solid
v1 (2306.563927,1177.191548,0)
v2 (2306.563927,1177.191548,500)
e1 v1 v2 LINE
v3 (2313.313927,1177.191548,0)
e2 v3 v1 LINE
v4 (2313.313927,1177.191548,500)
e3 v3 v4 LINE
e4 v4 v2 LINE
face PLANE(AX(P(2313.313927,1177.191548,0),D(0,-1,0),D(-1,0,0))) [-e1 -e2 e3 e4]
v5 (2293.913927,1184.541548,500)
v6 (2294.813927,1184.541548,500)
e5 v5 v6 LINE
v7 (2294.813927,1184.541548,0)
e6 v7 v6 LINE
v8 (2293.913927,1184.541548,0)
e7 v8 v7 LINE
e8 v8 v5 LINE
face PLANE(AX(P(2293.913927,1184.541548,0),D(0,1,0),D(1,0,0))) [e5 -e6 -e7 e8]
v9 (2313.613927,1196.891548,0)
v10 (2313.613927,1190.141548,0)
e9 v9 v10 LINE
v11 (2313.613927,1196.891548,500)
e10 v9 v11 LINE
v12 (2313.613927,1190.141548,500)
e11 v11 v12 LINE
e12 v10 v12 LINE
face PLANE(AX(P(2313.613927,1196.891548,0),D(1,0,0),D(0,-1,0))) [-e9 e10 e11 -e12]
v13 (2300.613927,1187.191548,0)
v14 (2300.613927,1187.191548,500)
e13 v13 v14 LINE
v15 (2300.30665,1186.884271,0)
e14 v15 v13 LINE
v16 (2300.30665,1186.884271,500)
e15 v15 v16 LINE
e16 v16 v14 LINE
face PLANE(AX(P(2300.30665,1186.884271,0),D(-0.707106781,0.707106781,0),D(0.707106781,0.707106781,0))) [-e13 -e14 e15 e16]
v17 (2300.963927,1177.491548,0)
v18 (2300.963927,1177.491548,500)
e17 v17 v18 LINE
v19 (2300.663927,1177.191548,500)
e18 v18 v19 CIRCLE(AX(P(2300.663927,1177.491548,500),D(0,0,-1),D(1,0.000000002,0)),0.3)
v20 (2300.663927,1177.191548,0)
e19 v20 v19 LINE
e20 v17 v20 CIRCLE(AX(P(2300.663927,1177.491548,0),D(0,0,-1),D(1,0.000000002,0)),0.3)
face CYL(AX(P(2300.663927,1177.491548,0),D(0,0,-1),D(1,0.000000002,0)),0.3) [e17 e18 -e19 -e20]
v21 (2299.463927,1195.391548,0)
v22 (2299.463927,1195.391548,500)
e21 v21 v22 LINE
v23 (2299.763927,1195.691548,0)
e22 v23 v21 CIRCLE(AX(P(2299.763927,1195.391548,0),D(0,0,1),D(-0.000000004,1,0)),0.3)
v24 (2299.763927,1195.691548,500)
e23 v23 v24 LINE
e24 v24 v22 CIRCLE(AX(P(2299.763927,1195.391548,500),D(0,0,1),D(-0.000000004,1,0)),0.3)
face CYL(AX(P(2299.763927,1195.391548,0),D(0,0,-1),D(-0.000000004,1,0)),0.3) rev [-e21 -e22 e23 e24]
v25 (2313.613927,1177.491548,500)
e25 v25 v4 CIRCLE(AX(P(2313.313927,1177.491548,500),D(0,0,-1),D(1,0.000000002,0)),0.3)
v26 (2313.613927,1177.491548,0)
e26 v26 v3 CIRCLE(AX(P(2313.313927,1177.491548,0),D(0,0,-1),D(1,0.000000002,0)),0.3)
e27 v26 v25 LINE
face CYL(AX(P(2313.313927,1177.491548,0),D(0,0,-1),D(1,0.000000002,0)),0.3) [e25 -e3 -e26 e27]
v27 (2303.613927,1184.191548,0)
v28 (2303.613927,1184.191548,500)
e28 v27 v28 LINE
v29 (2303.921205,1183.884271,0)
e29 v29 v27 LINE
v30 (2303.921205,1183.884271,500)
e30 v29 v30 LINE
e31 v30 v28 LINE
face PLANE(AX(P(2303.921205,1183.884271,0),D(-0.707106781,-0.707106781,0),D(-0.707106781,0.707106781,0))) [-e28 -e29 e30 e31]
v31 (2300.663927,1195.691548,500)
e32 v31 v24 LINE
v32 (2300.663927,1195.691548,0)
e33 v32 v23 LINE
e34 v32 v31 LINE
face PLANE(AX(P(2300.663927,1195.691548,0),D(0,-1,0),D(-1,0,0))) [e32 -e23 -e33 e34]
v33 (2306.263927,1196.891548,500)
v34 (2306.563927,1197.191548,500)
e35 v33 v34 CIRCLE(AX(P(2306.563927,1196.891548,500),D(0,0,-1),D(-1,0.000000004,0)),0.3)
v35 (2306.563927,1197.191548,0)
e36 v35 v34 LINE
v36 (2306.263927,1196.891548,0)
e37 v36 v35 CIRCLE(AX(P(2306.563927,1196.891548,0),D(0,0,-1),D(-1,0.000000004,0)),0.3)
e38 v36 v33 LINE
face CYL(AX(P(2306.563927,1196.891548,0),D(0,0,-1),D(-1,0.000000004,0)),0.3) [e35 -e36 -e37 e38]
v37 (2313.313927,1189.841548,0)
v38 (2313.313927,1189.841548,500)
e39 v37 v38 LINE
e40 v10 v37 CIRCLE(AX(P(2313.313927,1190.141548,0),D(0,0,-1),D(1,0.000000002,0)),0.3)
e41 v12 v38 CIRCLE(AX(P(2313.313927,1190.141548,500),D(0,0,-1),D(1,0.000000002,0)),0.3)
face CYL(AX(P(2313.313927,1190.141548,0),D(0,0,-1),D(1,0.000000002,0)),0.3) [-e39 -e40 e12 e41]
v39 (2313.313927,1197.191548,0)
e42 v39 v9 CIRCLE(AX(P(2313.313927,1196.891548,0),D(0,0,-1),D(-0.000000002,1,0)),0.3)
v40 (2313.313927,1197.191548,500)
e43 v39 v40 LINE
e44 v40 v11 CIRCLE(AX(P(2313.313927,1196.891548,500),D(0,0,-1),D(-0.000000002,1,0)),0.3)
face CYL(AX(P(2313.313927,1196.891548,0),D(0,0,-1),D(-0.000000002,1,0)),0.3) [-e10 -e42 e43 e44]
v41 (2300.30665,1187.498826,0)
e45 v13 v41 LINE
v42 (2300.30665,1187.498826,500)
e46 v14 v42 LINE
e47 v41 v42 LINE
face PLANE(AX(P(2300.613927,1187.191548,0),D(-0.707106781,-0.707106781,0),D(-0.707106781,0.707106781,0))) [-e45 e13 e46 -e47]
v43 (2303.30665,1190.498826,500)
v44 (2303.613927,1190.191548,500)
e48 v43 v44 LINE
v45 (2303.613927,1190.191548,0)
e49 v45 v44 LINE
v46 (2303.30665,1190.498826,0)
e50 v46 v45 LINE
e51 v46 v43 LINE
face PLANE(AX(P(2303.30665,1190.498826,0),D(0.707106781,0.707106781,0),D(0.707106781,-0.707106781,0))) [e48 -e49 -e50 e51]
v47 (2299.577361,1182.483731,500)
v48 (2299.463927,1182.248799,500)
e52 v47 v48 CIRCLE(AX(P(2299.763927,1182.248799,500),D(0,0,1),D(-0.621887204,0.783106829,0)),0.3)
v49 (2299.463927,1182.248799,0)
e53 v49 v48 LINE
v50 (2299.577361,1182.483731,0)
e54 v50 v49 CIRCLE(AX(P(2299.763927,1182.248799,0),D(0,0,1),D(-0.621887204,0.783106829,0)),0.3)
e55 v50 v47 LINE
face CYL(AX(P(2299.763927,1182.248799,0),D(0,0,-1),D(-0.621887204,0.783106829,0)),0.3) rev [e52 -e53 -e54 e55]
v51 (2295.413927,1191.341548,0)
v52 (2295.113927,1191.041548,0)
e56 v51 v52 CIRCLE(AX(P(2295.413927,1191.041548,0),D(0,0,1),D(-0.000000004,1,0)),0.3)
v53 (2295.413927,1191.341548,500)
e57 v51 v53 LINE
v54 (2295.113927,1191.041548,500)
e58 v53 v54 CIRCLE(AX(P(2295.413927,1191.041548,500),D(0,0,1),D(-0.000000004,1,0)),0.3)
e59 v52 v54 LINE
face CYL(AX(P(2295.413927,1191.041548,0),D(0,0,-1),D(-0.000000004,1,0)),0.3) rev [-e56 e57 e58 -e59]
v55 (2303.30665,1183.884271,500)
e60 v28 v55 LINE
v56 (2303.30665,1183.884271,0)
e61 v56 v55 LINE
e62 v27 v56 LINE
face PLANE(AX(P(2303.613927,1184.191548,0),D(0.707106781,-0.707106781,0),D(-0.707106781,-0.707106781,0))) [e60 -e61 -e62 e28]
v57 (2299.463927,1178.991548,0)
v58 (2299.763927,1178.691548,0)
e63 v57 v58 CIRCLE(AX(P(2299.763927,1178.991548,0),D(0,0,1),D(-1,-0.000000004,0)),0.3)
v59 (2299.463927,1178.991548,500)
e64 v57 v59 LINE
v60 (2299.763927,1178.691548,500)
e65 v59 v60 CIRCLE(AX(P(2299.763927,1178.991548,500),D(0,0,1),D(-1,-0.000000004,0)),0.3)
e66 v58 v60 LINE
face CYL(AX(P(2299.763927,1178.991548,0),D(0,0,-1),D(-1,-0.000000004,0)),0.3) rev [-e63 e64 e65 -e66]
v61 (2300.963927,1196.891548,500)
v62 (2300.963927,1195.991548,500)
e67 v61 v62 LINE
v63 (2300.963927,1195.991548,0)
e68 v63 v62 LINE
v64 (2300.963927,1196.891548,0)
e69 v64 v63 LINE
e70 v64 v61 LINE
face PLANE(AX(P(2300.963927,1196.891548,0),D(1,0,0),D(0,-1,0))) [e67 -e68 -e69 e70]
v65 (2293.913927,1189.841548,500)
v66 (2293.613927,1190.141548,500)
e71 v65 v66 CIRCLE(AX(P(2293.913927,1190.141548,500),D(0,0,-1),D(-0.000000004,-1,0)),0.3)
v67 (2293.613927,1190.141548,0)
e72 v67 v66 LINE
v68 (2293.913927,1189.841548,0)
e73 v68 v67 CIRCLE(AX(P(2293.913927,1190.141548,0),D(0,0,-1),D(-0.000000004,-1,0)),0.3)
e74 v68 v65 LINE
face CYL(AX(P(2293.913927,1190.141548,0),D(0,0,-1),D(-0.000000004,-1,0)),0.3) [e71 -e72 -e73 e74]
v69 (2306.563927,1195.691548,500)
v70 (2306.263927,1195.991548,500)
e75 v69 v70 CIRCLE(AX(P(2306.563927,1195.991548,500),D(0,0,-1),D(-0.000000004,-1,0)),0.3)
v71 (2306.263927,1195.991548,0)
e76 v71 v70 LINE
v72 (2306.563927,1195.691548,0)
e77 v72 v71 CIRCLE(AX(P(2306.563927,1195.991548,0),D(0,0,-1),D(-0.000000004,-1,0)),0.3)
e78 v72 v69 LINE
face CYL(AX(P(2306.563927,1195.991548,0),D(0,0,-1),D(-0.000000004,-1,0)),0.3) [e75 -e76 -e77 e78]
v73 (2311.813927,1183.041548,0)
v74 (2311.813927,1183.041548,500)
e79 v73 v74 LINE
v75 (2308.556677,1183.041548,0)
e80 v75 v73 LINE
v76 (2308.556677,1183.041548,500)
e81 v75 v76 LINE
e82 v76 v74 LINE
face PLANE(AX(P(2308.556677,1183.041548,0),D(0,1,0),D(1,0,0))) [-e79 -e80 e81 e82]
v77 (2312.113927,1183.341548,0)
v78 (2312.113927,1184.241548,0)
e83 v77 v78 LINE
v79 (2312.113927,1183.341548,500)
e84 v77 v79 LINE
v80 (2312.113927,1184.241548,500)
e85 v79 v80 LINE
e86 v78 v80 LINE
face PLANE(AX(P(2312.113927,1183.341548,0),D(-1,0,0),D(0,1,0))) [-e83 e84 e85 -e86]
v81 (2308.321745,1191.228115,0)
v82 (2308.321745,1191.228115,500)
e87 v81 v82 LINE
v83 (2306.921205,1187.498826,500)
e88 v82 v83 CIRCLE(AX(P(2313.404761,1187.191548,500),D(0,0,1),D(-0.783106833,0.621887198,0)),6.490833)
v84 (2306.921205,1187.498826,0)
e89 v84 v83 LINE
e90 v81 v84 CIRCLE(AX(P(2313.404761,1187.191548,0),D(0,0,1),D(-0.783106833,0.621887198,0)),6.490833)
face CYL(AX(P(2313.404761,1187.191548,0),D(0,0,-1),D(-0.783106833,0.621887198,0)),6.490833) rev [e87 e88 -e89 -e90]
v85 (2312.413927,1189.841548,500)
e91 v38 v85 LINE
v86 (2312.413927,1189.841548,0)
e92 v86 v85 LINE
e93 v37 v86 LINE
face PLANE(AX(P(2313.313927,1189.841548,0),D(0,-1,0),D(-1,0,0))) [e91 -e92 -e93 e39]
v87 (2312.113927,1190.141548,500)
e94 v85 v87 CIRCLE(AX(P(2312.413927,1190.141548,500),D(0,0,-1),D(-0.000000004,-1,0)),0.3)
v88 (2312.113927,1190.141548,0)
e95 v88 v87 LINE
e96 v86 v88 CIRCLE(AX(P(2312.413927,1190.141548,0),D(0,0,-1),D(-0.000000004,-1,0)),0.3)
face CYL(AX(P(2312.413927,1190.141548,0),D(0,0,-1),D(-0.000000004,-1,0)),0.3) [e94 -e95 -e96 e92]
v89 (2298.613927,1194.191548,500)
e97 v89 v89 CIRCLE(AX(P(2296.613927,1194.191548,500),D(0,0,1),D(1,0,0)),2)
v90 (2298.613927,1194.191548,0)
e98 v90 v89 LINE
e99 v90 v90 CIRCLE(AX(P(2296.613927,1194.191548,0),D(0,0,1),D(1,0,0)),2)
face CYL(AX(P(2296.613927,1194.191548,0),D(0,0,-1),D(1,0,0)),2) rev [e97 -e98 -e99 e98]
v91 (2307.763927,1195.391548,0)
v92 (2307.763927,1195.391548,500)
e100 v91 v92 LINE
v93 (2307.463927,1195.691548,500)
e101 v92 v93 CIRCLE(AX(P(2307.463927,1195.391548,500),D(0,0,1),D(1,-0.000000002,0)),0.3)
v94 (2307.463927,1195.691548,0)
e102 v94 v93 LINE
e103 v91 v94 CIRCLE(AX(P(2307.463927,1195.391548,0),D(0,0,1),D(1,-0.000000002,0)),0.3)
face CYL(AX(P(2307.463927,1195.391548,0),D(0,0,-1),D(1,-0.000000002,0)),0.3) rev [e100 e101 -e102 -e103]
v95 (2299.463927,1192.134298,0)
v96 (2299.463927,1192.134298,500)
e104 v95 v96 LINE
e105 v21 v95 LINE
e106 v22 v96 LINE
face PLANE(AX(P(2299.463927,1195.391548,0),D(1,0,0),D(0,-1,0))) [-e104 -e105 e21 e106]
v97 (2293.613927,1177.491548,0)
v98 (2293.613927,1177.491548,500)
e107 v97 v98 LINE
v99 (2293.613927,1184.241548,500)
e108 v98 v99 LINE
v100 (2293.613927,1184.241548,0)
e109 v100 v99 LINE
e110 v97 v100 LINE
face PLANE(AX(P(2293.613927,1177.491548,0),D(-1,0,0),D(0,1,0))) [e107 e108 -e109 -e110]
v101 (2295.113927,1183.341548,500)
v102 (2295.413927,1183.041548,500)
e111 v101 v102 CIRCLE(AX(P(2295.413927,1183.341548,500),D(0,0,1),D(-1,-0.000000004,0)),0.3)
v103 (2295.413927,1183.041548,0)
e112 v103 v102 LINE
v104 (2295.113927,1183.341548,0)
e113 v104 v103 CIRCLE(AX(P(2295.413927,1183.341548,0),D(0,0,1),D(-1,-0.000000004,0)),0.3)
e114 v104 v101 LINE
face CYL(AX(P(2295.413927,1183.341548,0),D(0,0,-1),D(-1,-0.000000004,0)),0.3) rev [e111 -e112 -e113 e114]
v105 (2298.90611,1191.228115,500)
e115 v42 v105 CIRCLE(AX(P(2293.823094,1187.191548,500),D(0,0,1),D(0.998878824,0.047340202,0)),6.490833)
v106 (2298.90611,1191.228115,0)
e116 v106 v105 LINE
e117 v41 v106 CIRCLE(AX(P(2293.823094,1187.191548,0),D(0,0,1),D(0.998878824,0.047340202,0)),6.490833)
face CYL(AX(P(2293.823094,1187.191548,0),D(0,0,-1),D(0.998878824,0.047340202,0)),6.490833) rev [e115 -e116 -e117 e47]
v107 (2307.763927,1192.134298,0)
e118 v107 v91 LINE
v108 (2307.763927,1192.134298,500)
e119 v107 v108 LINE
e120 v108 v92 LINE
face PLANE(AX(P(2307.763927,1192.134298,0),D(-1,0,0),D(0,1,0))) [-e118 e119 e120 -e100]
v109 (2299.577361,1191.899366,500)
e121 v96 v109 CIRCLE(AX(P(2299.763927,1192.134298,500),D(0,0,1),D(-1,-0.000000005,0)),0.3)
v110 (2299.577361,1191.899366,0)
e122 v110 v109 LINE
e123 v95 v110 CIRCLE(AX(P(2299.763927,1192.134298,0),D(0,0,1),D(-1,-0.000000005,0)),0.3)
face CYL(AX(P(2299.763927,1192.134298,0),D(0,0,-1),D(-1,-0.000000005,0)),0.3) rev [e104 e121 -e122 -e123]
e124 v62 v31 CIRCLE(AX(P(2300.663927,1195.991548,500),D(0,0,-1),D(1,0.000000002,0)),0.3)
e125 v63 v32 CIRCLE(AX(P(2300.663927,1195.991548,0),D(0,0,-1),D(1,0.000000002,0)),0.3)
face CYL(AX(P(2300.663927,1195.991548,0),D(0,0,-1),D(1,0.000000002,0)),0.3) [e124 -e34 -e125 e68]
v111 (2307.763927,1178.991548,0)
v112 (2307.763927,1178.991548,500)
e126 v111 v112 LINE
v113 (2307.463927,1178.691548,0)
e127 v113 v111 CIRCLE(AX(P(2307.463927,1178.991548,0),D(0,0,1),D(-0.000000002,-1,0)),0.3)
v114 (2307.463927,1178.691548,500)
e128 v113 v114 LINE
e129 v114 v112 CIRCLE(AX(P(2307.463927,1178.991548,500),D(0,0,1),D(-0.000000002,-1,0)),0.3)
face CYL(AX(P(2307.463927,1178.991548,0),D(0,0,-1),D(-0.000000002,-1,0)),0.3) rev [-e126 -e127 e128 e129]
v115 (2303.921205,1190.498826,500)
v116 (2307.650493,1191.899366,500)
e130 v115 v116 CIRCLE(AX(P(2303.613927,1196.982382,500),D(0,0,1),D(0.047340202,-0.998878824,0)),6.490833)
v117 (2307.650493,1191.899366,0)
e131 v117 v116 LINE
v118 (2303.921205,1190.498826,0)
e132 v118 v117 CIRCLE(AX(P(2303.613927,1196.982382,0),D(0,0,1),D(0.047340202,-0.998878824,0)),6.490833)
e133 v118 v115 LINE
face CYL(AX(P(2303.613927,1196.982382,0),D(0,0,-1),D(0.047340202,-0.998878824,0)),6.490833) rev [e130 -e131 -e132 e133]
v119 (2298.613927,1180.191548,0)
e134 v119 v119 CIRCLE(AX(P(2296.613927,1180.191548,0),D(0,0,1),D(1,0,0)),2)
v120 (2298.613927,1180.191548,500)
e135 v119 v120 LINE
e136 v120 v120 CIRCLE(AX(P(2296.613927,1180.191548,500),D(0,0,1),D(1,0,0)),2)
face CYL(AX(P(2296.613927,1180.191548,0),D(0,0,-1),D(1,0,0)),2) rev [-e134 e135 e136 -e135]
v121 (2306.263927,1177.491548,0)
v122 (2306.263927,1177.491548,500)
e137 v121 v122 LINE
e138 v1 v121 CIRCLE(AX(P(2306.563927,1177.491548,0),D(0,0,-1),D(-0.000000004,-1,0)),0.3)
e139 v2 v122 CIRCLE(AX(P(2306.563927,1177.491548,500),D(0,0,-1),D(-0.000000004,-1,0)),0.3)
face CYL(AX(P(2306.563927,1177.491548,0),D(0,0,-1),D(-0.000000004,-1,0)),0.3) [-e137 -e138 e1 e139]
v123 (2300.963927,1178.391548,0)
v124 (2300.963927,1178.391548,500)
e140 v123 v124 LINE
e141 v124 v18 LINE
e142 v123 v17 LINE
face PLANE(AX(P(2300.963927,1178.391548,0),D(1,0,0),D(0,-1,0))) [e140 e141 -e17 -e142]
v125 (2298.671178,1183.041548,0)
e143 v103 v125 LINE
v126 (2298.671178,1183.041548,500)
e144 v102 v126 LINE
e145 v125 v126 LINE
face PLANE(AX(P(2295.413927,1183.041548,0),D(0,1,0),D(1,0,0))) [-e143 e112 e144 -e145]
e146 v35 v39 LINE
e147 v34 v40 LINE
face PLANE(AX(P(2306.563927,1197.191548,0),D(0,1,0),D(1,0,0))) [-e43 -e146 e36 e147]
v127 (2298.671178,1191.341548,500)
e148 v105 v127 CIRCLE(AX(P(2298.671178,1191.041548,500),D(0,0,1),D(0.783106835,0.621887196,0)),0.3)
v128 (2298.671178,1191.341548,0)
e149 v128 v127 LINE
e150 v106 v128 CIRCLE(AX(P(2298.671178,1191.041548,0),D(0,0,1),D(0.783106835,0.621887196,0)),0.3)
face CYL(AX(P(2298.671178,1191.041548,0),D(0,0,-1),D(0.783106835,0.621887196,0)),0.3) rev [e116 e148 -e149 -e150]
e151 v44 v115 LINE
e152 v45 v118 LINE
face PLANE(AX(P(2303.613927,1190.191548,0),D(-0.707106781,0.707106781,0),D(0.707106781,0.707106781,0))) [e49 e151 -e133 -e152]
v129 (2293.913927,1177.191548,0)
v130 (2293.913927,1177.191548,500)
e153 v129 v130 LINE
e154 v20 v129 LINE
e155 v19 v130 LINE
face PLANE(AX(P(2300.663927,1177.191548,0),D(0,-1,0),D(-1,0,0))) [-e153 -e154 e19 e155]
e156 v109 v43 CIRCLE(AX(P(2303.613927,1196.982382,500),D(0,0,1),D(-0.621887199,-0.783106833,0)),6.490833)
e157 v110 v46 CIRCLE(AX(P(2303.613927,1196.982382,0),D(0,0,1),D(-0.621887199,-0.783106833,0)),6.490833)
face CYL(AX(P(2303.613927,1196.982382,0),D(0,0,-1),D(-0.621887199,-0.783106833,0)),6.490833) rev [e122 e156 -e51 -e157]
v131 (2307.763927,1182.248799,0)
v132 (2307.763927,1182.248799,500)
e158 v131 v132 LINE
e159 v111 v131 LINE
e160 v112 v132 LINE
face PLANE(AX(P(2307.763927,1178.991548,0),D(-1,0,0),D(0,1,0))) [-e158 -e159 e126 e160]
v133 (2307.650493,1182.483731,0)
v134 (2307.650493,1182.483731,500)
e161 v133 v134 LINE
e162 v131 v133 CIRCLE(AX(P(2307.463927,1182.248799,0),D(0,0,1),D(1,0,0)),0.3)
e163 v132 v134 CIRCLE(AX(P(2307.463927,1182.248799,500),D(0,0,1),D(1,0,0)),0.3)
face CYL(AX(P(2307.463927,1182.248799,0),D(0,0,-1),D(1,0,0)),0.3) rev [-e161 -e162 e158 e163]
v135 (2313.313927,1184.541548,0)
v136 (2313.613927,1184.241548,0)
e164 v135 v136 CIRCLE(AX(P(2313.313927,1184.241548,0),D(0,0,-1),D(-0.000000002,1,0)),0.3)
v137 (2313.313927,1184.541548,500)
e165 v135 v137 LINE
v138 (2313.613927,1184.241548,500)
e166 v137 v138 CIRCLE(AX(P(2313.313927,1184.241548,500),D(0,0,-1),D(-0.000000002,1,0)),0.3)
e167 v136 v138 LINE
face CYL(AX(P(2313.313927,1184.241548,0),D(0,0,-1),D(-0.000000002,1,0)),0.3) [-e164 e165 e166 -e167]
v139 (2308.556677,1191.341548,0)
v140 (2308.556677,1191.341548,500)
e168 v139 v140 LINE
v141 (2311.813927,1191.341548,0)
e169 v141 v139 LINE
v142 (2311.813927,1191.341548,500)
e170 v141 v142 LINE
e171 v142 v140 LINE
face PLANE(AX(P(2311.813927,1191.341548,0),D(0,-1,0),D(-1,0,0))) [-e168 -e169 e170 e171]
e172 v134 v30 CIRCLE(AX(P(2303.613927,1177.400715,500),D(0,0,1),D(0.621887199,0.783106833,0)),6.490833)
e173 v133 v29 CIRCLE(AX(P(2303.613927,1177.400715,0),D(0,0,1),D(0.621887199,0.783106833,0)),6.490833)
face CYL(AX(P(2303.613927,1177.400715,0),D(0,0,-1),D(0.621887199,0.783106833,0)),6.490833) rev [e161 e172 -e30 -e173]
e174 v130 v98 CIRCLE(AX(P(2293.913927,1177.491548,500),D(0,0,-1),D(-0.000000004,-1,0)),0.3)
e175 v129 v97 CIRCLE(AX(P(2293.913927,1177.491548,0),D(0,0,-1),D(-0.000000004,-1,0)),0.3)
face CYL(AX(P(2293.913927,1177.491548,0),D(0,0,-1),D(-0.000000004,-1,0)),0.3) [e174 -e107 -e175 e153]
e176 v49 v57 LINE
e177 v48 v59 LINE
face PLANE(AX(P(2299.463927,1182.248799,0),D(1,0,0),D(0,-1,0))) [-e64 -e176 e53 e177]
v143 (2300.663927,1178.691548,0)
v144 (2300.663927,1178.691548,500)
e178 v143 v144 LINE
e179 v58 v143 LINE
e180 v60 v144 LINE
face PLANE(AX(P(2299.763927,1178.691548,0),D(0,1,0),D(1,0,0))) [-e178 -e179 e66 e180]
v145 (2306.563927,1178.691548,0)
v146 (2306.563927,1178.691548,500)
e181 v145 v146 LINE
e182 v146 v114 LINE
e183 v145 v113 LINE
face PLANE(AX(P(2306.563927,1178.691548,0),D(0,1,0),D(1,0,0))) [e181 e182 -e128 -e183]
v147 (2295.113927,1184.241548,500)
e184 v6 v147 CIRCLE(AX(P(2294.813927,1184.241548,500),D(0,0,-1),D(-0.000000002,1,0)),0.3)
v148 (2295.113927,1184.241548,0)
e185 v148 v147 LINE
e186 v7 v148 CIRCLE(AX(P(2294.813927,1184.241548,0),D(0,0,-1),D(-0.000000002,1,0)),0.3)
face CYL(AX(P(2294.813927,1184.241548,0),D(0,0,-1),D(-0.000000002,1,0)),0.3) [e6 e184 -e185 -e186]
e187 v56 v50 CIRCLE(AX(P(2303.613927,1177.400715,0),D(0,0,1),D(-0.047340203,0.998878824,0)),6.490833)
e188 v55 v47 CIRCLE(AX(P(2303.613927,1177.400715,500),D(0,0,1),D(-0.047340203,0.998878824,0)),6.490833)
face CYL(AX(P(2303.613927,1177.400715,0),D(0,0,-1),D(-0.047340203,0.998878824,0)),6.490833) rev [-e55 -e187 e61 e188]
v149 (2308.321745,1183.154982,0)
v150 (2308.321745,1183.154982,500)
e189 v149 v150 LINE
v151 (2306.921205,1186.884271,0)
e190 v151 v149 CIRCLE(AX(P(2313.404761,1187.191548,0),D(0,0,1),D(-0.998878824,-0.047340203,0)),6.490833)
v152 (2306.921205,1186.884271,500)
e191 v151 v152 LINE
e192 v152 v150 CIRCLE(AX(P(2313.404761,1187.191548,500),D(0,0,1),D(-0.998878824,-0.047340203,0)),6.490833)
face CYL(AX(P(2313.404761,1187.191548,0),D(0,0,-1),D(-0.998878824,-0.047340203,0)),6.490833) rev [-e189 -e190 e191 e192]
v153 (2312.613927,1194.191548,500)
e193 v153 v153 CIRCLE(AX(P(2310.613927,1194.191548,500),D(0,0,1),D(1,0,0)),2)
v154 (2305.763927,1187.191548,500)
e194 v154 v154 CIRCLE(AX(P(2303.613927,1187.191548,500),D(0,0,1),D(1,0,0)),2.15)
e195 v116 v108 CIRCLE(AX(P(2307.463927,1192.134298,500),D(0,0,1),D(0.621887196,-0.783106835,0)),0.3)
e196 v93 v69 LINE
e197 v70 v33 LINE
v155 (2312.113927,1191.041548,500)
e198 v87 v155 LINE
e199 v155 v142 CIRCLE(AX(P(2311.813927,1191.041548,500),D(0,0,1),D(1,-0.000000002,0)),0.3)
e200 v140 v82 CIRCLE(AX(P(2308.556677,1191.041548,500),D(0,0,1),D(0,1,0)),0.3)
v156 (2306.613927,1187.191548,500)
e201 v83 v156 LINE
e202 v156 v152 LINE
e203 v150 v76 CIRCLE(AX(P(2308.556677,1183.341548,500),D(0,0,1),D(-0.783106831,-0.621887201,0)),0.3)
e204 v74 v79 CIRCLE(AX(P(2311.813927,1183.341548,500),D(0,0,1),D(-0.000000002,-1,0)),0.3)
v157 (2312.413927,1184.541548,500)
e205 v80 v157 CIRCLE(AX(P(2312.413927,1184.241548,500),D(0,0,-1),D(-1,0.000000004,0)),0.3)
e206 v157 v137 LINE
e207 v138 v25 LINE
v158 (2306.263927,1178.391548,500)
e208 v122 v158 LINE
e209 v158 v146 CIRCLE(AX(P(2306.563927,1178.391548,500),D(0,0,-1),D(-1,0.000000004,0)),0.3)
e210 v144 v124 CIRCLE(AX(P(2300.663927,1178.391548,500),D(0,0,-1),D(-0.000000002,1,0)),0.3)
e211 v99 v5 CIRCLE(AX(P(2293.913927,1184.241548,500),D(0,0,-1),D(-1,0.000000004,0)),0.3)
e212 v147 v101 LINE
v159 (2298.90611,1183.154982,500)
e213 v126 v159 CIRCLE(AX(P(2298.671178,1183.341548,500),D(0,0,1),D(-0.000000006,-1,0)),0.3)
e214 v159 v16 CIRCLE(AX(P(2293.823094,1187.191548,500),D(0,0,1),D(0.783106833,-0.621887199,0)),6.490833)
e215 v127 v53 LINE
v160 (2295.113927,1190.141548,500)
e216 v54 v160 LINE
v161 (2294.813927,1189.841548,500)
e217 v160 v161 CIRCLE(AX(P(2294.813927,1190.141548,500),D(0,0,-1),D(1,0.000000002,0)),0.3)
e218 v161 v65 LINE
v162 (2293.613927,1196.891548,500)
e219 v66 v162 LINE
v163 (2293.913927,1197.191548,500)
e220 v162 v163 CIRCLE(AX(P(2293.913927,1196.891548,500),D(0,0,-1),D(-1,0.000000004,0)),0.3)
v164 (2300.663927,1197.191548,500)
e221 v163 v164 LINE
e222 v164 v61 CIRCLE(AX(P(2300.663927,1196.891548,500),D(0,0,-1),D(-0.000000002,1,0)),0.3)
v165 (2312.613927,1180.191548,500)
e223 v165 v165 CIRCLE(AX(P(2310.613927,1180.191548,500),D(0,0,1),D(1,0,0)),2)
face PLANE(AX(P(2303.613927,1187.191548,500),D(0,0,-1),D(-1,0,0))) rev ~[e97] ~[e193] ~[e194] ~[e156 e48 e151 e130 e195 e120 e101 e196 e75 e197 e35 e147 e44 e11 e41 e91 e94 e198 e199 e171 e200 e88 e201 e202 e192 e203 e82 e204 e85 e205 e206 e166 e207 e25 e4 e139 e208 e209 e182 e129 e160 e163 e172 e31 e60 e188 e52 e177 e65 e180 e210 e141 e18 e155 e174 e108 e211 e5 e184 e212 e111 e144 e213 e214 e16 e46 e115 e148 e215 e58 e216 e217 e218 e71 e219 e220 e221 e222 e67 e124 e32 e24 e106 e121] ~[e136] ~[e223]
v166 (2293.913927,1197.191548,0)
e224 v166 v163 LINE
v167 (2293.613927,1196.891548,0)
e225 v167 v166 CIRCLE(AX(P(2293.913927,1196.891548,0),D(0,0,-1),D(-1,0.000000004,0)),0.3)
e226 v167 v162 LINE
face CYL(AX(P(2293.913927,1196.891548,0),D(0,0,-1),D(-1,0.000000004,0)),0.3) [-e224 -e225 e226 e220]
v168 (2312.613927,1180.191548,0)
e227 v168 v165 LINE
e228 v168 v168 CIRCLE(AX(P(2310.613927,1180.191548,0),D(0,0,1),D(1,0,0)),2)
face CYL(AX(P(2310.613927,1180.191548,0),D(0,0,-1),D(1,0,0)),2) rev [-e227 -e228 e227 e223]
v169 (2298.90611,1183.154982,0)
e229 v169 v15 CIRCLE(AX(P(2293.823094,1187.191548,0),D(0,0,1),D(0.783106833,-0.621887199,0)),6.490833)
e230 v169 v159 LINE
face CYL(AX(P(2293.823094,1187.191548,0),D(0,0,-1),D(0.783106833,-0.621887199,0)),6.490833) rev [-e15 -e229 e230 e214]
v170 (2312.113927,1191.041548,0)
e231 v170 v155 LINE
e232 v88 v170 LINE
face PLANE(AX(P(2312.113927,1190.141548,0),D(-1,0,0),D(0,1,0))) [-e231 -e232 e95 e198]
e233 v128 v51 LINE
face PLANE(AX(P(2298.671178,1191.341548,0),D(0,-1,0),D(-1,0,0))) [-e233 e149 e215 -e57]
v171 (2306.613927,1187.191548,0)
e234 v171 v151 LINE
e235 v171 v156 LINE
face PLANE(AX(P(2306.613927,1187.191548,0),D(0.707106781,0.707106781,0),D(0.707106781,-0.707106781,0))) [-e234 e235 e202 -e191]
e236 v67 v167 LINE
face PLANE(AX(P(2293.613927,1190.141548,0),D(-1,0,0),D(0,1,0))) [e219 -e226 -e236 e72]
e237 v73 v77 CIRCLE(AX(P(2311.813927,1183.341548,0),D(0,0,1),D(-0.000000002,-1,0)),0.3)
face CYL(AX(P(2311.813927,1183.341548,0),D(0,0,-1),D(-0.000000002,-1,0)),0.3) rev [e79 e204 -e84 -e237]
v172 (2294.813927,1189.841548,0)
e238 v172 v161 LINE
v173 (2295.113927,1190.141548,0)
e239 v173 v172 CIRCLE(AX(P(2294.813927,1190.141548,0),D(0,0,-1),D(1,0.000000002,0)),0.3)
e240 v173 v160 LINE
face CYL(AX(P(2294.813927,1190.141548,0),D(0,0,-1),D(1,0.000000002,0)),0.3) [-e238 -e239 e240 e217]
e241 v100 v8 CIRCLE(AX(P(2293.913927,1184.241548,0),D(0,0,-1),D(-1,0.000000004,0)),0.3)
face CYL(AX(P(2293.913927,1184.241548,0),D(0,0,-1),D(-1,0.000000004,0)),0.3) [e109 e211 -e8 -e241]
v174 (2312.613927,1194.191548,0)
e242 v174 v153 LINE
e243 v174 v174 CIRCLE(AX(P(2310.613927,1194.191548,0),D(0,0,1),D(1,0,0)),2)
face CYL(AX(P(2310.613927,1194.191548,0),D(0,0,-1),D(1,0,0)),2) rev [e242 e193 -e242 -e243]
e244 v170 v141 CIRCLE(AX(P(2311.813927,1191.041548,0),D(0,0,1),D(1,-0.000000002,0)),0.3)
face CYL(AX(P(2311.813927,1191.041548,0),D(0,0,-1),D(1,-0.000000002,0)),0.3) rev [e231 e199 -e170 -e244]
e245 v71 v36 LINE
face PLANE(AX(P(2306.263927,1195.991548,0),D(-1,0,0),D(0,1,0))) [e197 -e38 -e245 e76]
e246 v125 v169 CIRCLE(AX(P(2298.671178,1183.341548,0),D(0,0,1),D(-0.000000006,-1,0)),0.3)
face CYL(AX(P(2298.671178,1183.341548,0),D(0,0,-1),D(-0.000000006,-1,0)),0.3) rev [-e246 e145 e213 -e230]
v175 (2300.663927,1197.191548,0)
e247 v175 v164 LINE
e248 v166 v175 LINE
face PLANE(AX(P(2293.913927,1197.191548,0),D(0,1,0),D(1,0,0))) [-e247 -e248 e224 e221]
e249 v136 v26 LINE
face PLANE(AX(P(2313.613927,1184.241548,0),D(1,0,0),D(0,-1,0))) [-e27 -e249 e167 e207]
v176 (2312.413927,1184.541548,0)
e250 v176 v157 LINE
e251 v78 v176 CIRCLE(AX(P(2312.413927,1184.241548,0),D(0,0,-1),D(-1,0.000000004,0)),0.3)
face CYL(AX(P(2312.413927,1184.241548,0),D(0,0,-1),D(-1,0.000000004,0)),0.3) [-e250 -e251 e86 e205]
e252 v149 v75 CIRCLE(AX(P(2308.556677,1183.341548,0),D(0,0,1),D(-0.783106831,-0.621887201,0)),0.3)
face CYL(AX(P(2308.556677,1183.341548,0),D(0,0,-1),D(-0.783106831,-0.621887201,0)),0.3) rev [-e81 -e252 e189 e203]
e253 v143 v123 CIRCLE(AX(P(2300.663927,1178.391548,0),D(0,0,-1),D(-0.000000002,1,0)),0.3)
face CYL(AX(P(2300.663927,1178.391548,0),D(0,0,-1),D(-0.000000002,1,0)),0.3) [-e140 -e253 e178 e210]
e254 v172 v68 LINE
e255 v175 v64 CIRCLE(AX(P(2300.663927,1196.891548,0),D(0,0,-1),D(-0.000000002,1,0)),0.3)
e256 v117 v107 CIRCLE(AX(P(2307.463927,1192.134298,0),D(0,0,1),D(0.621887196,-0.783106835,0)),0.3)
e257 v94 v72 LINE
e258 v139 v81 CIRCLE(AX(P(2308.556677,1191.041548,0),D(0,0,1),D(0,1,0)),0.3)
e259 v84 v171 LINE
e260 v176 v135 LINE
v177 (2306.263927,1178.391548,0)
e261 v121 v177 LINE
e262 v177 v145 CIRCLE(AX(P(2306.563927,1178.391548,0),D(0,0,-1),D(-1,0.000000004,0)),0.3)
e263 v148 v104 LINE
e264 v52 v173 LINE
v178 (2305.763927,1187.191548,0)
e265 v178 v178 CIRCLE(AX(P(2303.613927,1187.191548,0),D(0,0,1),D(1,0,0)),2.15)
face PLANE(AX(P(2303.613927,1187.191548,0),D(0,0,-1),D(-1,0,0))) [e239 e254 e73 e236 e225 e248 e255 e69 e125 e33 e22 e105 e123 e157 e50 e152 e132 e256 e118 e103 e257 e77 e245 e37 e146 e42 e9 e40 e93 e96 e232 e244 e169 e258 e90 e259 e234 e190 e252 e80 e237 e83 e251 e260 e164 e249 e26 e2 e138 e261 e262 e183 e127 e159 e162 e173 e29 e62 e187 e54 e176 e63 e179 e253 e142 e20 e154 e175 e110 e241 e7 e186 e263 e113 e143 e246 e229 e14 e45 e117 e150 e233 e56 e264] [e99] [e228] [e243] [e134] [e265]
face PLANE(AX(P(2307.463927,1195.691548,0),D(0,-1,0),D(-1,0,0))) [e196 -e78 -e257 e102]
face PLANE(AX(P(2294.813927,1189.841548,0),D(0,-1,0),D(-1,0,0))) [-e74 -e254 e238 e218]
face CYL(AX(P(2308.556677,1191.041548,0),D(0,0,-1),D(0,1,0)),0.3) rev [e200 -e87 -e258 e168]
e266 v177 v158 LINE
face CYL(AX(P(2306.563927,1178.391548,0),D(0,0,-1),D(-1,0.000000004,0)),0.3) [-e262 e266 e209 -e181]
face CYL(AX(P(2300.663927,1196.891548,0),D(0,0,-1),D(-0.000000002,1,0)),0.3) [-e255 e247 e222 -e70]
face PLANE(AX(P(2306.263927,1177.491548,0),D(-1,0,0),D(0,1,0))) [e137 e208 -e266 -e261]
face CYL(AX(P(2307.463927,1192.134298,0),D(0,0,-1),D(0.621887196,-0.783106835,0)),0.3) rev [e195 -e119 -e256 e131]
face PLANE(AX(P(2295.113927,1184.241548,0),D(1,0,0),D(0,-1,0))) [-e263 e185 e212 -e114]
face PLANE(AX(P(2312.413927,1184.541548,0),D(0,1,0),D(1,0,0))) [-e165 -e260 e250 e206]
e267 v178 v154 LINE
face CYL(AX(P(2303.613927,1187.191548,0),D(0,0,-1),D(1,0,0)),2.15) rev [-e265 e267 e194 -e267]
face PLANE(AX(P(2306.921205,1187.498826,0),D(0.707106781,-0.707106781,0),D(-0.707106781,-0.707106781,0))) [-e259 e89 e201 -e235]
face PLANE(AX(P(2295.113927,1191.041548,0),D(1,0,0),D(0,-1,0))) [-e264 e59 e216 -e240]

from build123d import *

# Parameters (mm, degrees)
MODEL_R         = 2.15
MODEL_R_2       = 2
EXTRUDE_1_DEPTH = 500


with BuildPart() as part:
    # Model → 보스-돌출1 (new body)
    with BuildSketch(Plane.XY):
        with BuildLine():
            Line((2307.763927197, 1192.134297913), (2307.763927197, 1195.391548465))
            ThreePointArc((2307.763927197, 1195.391548465), (2307.676059232, 1195.603680499), (2307.463927197, 1195.691548465))
            Line((2307.463927197, 1195.691548465), (2306.563927197, 1195.691548465))
            ThreePointArc((2306.563927197, 1195.691548465), (2306.351795163, 1195.779416431), (2306.263927197, 1195.991548465))
            Line((2306.263927197, 1195.991548465), (2306.263927197, 1196.891548465))
            ThreePointArc((2306.263927197, 1196.891548465), (2306.351795163, 1197.103680499), (2306.563927197, 1197.191548465))
            Line((2306.563927197, 1197.191548465), (2313.313927197, 1197.191548465))
            ThreePointArc((2313.313927197, 1197.191548465), (2313.526059232, 1197.103680499), (2313.613927197, 1196.891548465))
            Line((2313.613927197, 1196.891548465), (2313.613927197, 1190.141548465))
            ThreePointArc((2313.613927197, 1190.141548465), (2313.526059232, 1189.929416431), (2313.313927197, 1189.841548465))
            Line((2313.313927197, 1189.841548465), (2312.413927197, 1189.841548465))
            ThreePointArc((2312.413927197, 1189.841548465), (2312.201795163, 1189.929416431), (2312.113927197, 1190.141548465))
            Line((2312.113927197, 1190.141548465), (2312.113927197, 1191.041548465))
            ThreePointArc((2312.113927197, 1191.041548465), (2312.026059232, 1191.253680499), (2311.813927197, 1191.341548465))
            Line((2311.813927197, 1191.341548465), (2308.556676645, 1191.341548465))
            ThreePointArc((2308.556676645, 1191.341548465), (2308.426234796, 1191.311705686), (2308.321744595, 1191.228114625))
            ThreePointArc((2308.321744595, 1191.228114625), (2307.328306374, 1189.47356999), (2306.921204563, 1187.498825831))
            Line((2306.921204563, 1187.498825831), (2306.613927197, 1187.191548465))
            Line((2306.613927197, 1187.191548465), (2306.921204563, 1186.884271099))
            ThreePointArc((2306.921204563, 1186.884271099), (2307.328306374, 1184.90952694), (2308.321744595, 1183.154982305))
            ThreePointArc((2308.321744595, 1183.154982305), (2308.426234796, 1183.071391244), (2308.556676645, 1183.041548465))
            Line((2308.556676645, 1183.041548465), (2311.813927197, 1183.041548465))
            ThreePointArc((2311.813927197, 1183.041548465), (2312.026059232, 1183.129416431), (2312.113927197, 1183.341548465))
            Line((2312.113927197, 1183.341548465), (2312.113927197, 1184.241548465))
            ThreePointArc((2312.113927197, 1184.241548465), (2312.201795163, 1184.453680499), (2312.413927197, 1184.541548465))
            Line((2312.413927197, 1184.541548465), (2313.313927197, 1184.541548465))
            ThreePointArc((2313.313927197, 1184.541548465), (2313.526059232, 1184.453680499), (2313.613927197, 1184.241548465))
            Line((2313.613927197, 1184.241548465), (2313.613927197, 1177.491548465))
            ThreePointArc((2313.613927197, 1177.491548465), (2313.526059232, 1177.279416431), (2313.313927197, 1177.191548465))
            Line((2313.313927197, 1177.191548465), (2306.563927197, 1177.191548465))
            ThreePointArc((2306.563927197, 1177.191548465), (2306.351795163, 1177.279416431), (2306.263927197, 1177.491548465))
            Line((2306.263927197, 1177.491548465), (2306.263927197, 1178.391548465))
            ThreePointArc((2306.263927197, 1178.391548465), (2306.351795163, 1178.603680499), (2306.563927197, 1178.691548465))
            Line((2306.563927197, 1178.691548465), (2307.463927197, 1178.691548465))
            ThreePointArc((2307.463927197, 1178.691548465), (2307.676059232, 1178.779416431), (2307.763927197, 1178.991548465))
            Line((2307.763927197, 1178.991548465), (2307.763927197, 1182.248799017))
            ThreePointArc((2307.763927197, 1182.248799017), (2307.734084418, 1182.379240866), (2307.650493357, 1182.483731067))
            ThreePointArc((2307.650493357, 1182.483731067), (2305.895948722, 1183.477169289), (2303.921204563, 1183.884271099))
            Line((2303.921204563, 1183.884271099), (2303.613927197, 1184.191548465))
            Line((2303.613927197, 1184.191548465), (2303.306649831, 1183.884271099))
            ThreePointArc((2303.306649831, 1183.884271099), (2301.331905673, 1183.477169289), (2299.577361038, 1182.483731067))
            ThreePointArc((2299.577361038, 1182.483731067), (2299.493769977, 1182.379240866), (2299.463927197, 1182.248799017))
            Line((2299.463927197, 1182.248799017), (2299.463927197, 1178.991548465))
            ThreePointArc((2299.463927197, 1178.991548465), (2299.551795163, 1178.779416431), (2299.763927197, 1178.691548465))
            Line((2299.763927197, 1178.691548465), (2300.663927197, 1178.691548465))
            ThreePointArc((2300.663927197, 1178.691548465), (2300.876059232, 1178.603680499), (2300.963927197, 1178.391548465))
            Line((2300.963927197, 1178.391548465), (2300.963927197, 1177.491548465))
            ThreePointArc((2300.963927197, 1177.491548465), (2300.876059232, 1177.279416431), (2300.663927197, 1177.191548465))
            Line((2300.663927197, 1177.191548465), (2293.913927197, 1177.191548465))
            ThreePointArc((2293.913927197, 1177.191548465), (2293.701795163, 1177.279416431), (2293.613927197, 1177.491548465))
            Line((2293.613927197, 1177.491548465), (2293.613927197, 1184.241548465))
            ThreePointArc((2293.613927197, 1184.241548465), (2293.701795163, 1184.453680499), (2293.913927197, 1184.541548465))
            Line((2293.913927197, 1184.541548465), (2294.813927197, 1184.541548465))
            ThreePointArc((2294.813927197, 1184.541548465), (2295.026059232, 1184.453680499), (2295.113927197, 1184.241548465))
            Line((2295.113927197, 1184.241548465), (2295.113927197, 1183.341548465))
            ThreePointArc((2295.113927197, 1183.341548465), (2295.201795163, 1183.129416431), (2295.413927197, 1183.041548465))
            Line((2295.413927197, 1183.041548465), (2298.671177749, 1183.041548465))
            ThreePointArc((2298.671177749, 1183.041548465), (2298.801619599, 1183.071391244), (2298.906109799, 1183.154982305))
            ThreePointArc((2298.906109799, 1183.154982305), (2299.899548021, 1184.90952694), (2300.306649831, 1186.884271099))
            Line((2300.306649831, 1186.884271099), (2300.613927197, 1187.191548465))
            Line((2300.613927197, 1187.191548465), (2300.306649831, 1187.498825831))
            ThreePointArc((2300.306649831, 1187.498825831), (2299.899548021, 1189.47356999), (2298.906109799, 1191.228114625))
            ThreePointArc((2298.906109799, 1191.228114625), (2298.801619599, 1191.311705686), (2298.671177749, 1191.341548465))
            Line((2298.671177749, 1191.341548465), (2295.413927197, 1191.341548465))
            ThreePointArc((2295.413927197, 1191.341548465), (2295.201795163, 1191.253680499), (2295.113927197, 1191.041548465))
            Line((2295.113927197, 1191.041548465), (2295.113927197, 1190.141548465))
            ThreePointArc((2295.113927197, 1190.141548465), (2295.026059232, 1189.929416431), (2294.813927197, 1189.841548465))
            Line((2294.813927197, 1189.841548465), (2293.913927197, 1189.841548465))
            ThreePointArc((2293.913927197, 1189.841548465), (2293.701795163, 1189.929416431), (2293.613927197, 1190.141548465))
            Line((2293.613927197, 1190.141548465), (2293.613927197, 1196.891548465))
            ThreePointArc((2293.613927197, 1196.891548465), (2293.701795163, 1197.103680499), (2293.913927197, 1197.191548465))
            Line((2293.913927197, 1197.191548465), (2300.663927197, 1197.191548465))
            ThreePointArc((2300.663927197, 1197.191548465), (2300.876059232, 1197.103680499), (2300.963927197, 1196.891548465))
            Line((2300.963927197, 1196.891548465), (2300.963927197, 1195.991548465))
            ThreePointArc((2300.963927197, 1195.991548465), (2300.876059232, 1195.779416431), (2300.663927197, 1195.691548465))
            Line((2300.663927197, 1195.691548465), (2299.763927197, 1195.691548465))
            ThreePointArc((2299.763927197, 1195.691548465), (2299.551795163, 1195.603680499), (2299.463927197, 1195.391548465))
            Line((2299.463927197, 1195.391548465), (2299.463927197, 1192.134297913))
            ThreePointArc((2299.463927197, 1192.134297913), (2299.493769977, 1192.003856063), (2299.577361038, 1191.899365863))
            ThreePointArc((2299.577361038, 1191.899365863), (2301.331905673, 1190.905927641), (2303.306649831, 1190.498825831))
            Line((2303.306649831, 1190.498825831), (2303.613927197, 1190.191548465))
            Line((2303.613927197, 1190.191548465), (2303.921204563, 1190.498825831))
            ThreePointArc((2303.921204563, 1190.498825831), (2305.895948722, 1190.905927641), (2307.650493357, 1191.899365863))
            ThreePointArc((2307.650493357, 1191.899365863), (2307.734084418, 1192.003856063), (2307.763927197, 1192.134297913))
        make_face()
        with Locations((2303.613927197, 1187.191548465)):
            Circle(MODEL_R, mode=Mode.SUBTRACT)
        with Locations((2296.613927197, 1194.191548465)):
            Circle(MODEL_R_2, mode=Mode.SUBTRACT)
        with Locations((2296.613927197, 1180.191548465)):
            Circle(MODEL_R_2, mode=Mode.SUBTRACT)
        with Locations((2310.613927197, 1194.191548465)):
            Circle(MODEL_R_2, mode=Mode.SUBTRACT)
        with Locations((2310.613927197, 1180.191548465)):
            Circle(MODEL_R_2, mode=Mode.SUBTRACT)
    extrude(amount=EXTRUDE_1_DEPTH)


solid = part.part
